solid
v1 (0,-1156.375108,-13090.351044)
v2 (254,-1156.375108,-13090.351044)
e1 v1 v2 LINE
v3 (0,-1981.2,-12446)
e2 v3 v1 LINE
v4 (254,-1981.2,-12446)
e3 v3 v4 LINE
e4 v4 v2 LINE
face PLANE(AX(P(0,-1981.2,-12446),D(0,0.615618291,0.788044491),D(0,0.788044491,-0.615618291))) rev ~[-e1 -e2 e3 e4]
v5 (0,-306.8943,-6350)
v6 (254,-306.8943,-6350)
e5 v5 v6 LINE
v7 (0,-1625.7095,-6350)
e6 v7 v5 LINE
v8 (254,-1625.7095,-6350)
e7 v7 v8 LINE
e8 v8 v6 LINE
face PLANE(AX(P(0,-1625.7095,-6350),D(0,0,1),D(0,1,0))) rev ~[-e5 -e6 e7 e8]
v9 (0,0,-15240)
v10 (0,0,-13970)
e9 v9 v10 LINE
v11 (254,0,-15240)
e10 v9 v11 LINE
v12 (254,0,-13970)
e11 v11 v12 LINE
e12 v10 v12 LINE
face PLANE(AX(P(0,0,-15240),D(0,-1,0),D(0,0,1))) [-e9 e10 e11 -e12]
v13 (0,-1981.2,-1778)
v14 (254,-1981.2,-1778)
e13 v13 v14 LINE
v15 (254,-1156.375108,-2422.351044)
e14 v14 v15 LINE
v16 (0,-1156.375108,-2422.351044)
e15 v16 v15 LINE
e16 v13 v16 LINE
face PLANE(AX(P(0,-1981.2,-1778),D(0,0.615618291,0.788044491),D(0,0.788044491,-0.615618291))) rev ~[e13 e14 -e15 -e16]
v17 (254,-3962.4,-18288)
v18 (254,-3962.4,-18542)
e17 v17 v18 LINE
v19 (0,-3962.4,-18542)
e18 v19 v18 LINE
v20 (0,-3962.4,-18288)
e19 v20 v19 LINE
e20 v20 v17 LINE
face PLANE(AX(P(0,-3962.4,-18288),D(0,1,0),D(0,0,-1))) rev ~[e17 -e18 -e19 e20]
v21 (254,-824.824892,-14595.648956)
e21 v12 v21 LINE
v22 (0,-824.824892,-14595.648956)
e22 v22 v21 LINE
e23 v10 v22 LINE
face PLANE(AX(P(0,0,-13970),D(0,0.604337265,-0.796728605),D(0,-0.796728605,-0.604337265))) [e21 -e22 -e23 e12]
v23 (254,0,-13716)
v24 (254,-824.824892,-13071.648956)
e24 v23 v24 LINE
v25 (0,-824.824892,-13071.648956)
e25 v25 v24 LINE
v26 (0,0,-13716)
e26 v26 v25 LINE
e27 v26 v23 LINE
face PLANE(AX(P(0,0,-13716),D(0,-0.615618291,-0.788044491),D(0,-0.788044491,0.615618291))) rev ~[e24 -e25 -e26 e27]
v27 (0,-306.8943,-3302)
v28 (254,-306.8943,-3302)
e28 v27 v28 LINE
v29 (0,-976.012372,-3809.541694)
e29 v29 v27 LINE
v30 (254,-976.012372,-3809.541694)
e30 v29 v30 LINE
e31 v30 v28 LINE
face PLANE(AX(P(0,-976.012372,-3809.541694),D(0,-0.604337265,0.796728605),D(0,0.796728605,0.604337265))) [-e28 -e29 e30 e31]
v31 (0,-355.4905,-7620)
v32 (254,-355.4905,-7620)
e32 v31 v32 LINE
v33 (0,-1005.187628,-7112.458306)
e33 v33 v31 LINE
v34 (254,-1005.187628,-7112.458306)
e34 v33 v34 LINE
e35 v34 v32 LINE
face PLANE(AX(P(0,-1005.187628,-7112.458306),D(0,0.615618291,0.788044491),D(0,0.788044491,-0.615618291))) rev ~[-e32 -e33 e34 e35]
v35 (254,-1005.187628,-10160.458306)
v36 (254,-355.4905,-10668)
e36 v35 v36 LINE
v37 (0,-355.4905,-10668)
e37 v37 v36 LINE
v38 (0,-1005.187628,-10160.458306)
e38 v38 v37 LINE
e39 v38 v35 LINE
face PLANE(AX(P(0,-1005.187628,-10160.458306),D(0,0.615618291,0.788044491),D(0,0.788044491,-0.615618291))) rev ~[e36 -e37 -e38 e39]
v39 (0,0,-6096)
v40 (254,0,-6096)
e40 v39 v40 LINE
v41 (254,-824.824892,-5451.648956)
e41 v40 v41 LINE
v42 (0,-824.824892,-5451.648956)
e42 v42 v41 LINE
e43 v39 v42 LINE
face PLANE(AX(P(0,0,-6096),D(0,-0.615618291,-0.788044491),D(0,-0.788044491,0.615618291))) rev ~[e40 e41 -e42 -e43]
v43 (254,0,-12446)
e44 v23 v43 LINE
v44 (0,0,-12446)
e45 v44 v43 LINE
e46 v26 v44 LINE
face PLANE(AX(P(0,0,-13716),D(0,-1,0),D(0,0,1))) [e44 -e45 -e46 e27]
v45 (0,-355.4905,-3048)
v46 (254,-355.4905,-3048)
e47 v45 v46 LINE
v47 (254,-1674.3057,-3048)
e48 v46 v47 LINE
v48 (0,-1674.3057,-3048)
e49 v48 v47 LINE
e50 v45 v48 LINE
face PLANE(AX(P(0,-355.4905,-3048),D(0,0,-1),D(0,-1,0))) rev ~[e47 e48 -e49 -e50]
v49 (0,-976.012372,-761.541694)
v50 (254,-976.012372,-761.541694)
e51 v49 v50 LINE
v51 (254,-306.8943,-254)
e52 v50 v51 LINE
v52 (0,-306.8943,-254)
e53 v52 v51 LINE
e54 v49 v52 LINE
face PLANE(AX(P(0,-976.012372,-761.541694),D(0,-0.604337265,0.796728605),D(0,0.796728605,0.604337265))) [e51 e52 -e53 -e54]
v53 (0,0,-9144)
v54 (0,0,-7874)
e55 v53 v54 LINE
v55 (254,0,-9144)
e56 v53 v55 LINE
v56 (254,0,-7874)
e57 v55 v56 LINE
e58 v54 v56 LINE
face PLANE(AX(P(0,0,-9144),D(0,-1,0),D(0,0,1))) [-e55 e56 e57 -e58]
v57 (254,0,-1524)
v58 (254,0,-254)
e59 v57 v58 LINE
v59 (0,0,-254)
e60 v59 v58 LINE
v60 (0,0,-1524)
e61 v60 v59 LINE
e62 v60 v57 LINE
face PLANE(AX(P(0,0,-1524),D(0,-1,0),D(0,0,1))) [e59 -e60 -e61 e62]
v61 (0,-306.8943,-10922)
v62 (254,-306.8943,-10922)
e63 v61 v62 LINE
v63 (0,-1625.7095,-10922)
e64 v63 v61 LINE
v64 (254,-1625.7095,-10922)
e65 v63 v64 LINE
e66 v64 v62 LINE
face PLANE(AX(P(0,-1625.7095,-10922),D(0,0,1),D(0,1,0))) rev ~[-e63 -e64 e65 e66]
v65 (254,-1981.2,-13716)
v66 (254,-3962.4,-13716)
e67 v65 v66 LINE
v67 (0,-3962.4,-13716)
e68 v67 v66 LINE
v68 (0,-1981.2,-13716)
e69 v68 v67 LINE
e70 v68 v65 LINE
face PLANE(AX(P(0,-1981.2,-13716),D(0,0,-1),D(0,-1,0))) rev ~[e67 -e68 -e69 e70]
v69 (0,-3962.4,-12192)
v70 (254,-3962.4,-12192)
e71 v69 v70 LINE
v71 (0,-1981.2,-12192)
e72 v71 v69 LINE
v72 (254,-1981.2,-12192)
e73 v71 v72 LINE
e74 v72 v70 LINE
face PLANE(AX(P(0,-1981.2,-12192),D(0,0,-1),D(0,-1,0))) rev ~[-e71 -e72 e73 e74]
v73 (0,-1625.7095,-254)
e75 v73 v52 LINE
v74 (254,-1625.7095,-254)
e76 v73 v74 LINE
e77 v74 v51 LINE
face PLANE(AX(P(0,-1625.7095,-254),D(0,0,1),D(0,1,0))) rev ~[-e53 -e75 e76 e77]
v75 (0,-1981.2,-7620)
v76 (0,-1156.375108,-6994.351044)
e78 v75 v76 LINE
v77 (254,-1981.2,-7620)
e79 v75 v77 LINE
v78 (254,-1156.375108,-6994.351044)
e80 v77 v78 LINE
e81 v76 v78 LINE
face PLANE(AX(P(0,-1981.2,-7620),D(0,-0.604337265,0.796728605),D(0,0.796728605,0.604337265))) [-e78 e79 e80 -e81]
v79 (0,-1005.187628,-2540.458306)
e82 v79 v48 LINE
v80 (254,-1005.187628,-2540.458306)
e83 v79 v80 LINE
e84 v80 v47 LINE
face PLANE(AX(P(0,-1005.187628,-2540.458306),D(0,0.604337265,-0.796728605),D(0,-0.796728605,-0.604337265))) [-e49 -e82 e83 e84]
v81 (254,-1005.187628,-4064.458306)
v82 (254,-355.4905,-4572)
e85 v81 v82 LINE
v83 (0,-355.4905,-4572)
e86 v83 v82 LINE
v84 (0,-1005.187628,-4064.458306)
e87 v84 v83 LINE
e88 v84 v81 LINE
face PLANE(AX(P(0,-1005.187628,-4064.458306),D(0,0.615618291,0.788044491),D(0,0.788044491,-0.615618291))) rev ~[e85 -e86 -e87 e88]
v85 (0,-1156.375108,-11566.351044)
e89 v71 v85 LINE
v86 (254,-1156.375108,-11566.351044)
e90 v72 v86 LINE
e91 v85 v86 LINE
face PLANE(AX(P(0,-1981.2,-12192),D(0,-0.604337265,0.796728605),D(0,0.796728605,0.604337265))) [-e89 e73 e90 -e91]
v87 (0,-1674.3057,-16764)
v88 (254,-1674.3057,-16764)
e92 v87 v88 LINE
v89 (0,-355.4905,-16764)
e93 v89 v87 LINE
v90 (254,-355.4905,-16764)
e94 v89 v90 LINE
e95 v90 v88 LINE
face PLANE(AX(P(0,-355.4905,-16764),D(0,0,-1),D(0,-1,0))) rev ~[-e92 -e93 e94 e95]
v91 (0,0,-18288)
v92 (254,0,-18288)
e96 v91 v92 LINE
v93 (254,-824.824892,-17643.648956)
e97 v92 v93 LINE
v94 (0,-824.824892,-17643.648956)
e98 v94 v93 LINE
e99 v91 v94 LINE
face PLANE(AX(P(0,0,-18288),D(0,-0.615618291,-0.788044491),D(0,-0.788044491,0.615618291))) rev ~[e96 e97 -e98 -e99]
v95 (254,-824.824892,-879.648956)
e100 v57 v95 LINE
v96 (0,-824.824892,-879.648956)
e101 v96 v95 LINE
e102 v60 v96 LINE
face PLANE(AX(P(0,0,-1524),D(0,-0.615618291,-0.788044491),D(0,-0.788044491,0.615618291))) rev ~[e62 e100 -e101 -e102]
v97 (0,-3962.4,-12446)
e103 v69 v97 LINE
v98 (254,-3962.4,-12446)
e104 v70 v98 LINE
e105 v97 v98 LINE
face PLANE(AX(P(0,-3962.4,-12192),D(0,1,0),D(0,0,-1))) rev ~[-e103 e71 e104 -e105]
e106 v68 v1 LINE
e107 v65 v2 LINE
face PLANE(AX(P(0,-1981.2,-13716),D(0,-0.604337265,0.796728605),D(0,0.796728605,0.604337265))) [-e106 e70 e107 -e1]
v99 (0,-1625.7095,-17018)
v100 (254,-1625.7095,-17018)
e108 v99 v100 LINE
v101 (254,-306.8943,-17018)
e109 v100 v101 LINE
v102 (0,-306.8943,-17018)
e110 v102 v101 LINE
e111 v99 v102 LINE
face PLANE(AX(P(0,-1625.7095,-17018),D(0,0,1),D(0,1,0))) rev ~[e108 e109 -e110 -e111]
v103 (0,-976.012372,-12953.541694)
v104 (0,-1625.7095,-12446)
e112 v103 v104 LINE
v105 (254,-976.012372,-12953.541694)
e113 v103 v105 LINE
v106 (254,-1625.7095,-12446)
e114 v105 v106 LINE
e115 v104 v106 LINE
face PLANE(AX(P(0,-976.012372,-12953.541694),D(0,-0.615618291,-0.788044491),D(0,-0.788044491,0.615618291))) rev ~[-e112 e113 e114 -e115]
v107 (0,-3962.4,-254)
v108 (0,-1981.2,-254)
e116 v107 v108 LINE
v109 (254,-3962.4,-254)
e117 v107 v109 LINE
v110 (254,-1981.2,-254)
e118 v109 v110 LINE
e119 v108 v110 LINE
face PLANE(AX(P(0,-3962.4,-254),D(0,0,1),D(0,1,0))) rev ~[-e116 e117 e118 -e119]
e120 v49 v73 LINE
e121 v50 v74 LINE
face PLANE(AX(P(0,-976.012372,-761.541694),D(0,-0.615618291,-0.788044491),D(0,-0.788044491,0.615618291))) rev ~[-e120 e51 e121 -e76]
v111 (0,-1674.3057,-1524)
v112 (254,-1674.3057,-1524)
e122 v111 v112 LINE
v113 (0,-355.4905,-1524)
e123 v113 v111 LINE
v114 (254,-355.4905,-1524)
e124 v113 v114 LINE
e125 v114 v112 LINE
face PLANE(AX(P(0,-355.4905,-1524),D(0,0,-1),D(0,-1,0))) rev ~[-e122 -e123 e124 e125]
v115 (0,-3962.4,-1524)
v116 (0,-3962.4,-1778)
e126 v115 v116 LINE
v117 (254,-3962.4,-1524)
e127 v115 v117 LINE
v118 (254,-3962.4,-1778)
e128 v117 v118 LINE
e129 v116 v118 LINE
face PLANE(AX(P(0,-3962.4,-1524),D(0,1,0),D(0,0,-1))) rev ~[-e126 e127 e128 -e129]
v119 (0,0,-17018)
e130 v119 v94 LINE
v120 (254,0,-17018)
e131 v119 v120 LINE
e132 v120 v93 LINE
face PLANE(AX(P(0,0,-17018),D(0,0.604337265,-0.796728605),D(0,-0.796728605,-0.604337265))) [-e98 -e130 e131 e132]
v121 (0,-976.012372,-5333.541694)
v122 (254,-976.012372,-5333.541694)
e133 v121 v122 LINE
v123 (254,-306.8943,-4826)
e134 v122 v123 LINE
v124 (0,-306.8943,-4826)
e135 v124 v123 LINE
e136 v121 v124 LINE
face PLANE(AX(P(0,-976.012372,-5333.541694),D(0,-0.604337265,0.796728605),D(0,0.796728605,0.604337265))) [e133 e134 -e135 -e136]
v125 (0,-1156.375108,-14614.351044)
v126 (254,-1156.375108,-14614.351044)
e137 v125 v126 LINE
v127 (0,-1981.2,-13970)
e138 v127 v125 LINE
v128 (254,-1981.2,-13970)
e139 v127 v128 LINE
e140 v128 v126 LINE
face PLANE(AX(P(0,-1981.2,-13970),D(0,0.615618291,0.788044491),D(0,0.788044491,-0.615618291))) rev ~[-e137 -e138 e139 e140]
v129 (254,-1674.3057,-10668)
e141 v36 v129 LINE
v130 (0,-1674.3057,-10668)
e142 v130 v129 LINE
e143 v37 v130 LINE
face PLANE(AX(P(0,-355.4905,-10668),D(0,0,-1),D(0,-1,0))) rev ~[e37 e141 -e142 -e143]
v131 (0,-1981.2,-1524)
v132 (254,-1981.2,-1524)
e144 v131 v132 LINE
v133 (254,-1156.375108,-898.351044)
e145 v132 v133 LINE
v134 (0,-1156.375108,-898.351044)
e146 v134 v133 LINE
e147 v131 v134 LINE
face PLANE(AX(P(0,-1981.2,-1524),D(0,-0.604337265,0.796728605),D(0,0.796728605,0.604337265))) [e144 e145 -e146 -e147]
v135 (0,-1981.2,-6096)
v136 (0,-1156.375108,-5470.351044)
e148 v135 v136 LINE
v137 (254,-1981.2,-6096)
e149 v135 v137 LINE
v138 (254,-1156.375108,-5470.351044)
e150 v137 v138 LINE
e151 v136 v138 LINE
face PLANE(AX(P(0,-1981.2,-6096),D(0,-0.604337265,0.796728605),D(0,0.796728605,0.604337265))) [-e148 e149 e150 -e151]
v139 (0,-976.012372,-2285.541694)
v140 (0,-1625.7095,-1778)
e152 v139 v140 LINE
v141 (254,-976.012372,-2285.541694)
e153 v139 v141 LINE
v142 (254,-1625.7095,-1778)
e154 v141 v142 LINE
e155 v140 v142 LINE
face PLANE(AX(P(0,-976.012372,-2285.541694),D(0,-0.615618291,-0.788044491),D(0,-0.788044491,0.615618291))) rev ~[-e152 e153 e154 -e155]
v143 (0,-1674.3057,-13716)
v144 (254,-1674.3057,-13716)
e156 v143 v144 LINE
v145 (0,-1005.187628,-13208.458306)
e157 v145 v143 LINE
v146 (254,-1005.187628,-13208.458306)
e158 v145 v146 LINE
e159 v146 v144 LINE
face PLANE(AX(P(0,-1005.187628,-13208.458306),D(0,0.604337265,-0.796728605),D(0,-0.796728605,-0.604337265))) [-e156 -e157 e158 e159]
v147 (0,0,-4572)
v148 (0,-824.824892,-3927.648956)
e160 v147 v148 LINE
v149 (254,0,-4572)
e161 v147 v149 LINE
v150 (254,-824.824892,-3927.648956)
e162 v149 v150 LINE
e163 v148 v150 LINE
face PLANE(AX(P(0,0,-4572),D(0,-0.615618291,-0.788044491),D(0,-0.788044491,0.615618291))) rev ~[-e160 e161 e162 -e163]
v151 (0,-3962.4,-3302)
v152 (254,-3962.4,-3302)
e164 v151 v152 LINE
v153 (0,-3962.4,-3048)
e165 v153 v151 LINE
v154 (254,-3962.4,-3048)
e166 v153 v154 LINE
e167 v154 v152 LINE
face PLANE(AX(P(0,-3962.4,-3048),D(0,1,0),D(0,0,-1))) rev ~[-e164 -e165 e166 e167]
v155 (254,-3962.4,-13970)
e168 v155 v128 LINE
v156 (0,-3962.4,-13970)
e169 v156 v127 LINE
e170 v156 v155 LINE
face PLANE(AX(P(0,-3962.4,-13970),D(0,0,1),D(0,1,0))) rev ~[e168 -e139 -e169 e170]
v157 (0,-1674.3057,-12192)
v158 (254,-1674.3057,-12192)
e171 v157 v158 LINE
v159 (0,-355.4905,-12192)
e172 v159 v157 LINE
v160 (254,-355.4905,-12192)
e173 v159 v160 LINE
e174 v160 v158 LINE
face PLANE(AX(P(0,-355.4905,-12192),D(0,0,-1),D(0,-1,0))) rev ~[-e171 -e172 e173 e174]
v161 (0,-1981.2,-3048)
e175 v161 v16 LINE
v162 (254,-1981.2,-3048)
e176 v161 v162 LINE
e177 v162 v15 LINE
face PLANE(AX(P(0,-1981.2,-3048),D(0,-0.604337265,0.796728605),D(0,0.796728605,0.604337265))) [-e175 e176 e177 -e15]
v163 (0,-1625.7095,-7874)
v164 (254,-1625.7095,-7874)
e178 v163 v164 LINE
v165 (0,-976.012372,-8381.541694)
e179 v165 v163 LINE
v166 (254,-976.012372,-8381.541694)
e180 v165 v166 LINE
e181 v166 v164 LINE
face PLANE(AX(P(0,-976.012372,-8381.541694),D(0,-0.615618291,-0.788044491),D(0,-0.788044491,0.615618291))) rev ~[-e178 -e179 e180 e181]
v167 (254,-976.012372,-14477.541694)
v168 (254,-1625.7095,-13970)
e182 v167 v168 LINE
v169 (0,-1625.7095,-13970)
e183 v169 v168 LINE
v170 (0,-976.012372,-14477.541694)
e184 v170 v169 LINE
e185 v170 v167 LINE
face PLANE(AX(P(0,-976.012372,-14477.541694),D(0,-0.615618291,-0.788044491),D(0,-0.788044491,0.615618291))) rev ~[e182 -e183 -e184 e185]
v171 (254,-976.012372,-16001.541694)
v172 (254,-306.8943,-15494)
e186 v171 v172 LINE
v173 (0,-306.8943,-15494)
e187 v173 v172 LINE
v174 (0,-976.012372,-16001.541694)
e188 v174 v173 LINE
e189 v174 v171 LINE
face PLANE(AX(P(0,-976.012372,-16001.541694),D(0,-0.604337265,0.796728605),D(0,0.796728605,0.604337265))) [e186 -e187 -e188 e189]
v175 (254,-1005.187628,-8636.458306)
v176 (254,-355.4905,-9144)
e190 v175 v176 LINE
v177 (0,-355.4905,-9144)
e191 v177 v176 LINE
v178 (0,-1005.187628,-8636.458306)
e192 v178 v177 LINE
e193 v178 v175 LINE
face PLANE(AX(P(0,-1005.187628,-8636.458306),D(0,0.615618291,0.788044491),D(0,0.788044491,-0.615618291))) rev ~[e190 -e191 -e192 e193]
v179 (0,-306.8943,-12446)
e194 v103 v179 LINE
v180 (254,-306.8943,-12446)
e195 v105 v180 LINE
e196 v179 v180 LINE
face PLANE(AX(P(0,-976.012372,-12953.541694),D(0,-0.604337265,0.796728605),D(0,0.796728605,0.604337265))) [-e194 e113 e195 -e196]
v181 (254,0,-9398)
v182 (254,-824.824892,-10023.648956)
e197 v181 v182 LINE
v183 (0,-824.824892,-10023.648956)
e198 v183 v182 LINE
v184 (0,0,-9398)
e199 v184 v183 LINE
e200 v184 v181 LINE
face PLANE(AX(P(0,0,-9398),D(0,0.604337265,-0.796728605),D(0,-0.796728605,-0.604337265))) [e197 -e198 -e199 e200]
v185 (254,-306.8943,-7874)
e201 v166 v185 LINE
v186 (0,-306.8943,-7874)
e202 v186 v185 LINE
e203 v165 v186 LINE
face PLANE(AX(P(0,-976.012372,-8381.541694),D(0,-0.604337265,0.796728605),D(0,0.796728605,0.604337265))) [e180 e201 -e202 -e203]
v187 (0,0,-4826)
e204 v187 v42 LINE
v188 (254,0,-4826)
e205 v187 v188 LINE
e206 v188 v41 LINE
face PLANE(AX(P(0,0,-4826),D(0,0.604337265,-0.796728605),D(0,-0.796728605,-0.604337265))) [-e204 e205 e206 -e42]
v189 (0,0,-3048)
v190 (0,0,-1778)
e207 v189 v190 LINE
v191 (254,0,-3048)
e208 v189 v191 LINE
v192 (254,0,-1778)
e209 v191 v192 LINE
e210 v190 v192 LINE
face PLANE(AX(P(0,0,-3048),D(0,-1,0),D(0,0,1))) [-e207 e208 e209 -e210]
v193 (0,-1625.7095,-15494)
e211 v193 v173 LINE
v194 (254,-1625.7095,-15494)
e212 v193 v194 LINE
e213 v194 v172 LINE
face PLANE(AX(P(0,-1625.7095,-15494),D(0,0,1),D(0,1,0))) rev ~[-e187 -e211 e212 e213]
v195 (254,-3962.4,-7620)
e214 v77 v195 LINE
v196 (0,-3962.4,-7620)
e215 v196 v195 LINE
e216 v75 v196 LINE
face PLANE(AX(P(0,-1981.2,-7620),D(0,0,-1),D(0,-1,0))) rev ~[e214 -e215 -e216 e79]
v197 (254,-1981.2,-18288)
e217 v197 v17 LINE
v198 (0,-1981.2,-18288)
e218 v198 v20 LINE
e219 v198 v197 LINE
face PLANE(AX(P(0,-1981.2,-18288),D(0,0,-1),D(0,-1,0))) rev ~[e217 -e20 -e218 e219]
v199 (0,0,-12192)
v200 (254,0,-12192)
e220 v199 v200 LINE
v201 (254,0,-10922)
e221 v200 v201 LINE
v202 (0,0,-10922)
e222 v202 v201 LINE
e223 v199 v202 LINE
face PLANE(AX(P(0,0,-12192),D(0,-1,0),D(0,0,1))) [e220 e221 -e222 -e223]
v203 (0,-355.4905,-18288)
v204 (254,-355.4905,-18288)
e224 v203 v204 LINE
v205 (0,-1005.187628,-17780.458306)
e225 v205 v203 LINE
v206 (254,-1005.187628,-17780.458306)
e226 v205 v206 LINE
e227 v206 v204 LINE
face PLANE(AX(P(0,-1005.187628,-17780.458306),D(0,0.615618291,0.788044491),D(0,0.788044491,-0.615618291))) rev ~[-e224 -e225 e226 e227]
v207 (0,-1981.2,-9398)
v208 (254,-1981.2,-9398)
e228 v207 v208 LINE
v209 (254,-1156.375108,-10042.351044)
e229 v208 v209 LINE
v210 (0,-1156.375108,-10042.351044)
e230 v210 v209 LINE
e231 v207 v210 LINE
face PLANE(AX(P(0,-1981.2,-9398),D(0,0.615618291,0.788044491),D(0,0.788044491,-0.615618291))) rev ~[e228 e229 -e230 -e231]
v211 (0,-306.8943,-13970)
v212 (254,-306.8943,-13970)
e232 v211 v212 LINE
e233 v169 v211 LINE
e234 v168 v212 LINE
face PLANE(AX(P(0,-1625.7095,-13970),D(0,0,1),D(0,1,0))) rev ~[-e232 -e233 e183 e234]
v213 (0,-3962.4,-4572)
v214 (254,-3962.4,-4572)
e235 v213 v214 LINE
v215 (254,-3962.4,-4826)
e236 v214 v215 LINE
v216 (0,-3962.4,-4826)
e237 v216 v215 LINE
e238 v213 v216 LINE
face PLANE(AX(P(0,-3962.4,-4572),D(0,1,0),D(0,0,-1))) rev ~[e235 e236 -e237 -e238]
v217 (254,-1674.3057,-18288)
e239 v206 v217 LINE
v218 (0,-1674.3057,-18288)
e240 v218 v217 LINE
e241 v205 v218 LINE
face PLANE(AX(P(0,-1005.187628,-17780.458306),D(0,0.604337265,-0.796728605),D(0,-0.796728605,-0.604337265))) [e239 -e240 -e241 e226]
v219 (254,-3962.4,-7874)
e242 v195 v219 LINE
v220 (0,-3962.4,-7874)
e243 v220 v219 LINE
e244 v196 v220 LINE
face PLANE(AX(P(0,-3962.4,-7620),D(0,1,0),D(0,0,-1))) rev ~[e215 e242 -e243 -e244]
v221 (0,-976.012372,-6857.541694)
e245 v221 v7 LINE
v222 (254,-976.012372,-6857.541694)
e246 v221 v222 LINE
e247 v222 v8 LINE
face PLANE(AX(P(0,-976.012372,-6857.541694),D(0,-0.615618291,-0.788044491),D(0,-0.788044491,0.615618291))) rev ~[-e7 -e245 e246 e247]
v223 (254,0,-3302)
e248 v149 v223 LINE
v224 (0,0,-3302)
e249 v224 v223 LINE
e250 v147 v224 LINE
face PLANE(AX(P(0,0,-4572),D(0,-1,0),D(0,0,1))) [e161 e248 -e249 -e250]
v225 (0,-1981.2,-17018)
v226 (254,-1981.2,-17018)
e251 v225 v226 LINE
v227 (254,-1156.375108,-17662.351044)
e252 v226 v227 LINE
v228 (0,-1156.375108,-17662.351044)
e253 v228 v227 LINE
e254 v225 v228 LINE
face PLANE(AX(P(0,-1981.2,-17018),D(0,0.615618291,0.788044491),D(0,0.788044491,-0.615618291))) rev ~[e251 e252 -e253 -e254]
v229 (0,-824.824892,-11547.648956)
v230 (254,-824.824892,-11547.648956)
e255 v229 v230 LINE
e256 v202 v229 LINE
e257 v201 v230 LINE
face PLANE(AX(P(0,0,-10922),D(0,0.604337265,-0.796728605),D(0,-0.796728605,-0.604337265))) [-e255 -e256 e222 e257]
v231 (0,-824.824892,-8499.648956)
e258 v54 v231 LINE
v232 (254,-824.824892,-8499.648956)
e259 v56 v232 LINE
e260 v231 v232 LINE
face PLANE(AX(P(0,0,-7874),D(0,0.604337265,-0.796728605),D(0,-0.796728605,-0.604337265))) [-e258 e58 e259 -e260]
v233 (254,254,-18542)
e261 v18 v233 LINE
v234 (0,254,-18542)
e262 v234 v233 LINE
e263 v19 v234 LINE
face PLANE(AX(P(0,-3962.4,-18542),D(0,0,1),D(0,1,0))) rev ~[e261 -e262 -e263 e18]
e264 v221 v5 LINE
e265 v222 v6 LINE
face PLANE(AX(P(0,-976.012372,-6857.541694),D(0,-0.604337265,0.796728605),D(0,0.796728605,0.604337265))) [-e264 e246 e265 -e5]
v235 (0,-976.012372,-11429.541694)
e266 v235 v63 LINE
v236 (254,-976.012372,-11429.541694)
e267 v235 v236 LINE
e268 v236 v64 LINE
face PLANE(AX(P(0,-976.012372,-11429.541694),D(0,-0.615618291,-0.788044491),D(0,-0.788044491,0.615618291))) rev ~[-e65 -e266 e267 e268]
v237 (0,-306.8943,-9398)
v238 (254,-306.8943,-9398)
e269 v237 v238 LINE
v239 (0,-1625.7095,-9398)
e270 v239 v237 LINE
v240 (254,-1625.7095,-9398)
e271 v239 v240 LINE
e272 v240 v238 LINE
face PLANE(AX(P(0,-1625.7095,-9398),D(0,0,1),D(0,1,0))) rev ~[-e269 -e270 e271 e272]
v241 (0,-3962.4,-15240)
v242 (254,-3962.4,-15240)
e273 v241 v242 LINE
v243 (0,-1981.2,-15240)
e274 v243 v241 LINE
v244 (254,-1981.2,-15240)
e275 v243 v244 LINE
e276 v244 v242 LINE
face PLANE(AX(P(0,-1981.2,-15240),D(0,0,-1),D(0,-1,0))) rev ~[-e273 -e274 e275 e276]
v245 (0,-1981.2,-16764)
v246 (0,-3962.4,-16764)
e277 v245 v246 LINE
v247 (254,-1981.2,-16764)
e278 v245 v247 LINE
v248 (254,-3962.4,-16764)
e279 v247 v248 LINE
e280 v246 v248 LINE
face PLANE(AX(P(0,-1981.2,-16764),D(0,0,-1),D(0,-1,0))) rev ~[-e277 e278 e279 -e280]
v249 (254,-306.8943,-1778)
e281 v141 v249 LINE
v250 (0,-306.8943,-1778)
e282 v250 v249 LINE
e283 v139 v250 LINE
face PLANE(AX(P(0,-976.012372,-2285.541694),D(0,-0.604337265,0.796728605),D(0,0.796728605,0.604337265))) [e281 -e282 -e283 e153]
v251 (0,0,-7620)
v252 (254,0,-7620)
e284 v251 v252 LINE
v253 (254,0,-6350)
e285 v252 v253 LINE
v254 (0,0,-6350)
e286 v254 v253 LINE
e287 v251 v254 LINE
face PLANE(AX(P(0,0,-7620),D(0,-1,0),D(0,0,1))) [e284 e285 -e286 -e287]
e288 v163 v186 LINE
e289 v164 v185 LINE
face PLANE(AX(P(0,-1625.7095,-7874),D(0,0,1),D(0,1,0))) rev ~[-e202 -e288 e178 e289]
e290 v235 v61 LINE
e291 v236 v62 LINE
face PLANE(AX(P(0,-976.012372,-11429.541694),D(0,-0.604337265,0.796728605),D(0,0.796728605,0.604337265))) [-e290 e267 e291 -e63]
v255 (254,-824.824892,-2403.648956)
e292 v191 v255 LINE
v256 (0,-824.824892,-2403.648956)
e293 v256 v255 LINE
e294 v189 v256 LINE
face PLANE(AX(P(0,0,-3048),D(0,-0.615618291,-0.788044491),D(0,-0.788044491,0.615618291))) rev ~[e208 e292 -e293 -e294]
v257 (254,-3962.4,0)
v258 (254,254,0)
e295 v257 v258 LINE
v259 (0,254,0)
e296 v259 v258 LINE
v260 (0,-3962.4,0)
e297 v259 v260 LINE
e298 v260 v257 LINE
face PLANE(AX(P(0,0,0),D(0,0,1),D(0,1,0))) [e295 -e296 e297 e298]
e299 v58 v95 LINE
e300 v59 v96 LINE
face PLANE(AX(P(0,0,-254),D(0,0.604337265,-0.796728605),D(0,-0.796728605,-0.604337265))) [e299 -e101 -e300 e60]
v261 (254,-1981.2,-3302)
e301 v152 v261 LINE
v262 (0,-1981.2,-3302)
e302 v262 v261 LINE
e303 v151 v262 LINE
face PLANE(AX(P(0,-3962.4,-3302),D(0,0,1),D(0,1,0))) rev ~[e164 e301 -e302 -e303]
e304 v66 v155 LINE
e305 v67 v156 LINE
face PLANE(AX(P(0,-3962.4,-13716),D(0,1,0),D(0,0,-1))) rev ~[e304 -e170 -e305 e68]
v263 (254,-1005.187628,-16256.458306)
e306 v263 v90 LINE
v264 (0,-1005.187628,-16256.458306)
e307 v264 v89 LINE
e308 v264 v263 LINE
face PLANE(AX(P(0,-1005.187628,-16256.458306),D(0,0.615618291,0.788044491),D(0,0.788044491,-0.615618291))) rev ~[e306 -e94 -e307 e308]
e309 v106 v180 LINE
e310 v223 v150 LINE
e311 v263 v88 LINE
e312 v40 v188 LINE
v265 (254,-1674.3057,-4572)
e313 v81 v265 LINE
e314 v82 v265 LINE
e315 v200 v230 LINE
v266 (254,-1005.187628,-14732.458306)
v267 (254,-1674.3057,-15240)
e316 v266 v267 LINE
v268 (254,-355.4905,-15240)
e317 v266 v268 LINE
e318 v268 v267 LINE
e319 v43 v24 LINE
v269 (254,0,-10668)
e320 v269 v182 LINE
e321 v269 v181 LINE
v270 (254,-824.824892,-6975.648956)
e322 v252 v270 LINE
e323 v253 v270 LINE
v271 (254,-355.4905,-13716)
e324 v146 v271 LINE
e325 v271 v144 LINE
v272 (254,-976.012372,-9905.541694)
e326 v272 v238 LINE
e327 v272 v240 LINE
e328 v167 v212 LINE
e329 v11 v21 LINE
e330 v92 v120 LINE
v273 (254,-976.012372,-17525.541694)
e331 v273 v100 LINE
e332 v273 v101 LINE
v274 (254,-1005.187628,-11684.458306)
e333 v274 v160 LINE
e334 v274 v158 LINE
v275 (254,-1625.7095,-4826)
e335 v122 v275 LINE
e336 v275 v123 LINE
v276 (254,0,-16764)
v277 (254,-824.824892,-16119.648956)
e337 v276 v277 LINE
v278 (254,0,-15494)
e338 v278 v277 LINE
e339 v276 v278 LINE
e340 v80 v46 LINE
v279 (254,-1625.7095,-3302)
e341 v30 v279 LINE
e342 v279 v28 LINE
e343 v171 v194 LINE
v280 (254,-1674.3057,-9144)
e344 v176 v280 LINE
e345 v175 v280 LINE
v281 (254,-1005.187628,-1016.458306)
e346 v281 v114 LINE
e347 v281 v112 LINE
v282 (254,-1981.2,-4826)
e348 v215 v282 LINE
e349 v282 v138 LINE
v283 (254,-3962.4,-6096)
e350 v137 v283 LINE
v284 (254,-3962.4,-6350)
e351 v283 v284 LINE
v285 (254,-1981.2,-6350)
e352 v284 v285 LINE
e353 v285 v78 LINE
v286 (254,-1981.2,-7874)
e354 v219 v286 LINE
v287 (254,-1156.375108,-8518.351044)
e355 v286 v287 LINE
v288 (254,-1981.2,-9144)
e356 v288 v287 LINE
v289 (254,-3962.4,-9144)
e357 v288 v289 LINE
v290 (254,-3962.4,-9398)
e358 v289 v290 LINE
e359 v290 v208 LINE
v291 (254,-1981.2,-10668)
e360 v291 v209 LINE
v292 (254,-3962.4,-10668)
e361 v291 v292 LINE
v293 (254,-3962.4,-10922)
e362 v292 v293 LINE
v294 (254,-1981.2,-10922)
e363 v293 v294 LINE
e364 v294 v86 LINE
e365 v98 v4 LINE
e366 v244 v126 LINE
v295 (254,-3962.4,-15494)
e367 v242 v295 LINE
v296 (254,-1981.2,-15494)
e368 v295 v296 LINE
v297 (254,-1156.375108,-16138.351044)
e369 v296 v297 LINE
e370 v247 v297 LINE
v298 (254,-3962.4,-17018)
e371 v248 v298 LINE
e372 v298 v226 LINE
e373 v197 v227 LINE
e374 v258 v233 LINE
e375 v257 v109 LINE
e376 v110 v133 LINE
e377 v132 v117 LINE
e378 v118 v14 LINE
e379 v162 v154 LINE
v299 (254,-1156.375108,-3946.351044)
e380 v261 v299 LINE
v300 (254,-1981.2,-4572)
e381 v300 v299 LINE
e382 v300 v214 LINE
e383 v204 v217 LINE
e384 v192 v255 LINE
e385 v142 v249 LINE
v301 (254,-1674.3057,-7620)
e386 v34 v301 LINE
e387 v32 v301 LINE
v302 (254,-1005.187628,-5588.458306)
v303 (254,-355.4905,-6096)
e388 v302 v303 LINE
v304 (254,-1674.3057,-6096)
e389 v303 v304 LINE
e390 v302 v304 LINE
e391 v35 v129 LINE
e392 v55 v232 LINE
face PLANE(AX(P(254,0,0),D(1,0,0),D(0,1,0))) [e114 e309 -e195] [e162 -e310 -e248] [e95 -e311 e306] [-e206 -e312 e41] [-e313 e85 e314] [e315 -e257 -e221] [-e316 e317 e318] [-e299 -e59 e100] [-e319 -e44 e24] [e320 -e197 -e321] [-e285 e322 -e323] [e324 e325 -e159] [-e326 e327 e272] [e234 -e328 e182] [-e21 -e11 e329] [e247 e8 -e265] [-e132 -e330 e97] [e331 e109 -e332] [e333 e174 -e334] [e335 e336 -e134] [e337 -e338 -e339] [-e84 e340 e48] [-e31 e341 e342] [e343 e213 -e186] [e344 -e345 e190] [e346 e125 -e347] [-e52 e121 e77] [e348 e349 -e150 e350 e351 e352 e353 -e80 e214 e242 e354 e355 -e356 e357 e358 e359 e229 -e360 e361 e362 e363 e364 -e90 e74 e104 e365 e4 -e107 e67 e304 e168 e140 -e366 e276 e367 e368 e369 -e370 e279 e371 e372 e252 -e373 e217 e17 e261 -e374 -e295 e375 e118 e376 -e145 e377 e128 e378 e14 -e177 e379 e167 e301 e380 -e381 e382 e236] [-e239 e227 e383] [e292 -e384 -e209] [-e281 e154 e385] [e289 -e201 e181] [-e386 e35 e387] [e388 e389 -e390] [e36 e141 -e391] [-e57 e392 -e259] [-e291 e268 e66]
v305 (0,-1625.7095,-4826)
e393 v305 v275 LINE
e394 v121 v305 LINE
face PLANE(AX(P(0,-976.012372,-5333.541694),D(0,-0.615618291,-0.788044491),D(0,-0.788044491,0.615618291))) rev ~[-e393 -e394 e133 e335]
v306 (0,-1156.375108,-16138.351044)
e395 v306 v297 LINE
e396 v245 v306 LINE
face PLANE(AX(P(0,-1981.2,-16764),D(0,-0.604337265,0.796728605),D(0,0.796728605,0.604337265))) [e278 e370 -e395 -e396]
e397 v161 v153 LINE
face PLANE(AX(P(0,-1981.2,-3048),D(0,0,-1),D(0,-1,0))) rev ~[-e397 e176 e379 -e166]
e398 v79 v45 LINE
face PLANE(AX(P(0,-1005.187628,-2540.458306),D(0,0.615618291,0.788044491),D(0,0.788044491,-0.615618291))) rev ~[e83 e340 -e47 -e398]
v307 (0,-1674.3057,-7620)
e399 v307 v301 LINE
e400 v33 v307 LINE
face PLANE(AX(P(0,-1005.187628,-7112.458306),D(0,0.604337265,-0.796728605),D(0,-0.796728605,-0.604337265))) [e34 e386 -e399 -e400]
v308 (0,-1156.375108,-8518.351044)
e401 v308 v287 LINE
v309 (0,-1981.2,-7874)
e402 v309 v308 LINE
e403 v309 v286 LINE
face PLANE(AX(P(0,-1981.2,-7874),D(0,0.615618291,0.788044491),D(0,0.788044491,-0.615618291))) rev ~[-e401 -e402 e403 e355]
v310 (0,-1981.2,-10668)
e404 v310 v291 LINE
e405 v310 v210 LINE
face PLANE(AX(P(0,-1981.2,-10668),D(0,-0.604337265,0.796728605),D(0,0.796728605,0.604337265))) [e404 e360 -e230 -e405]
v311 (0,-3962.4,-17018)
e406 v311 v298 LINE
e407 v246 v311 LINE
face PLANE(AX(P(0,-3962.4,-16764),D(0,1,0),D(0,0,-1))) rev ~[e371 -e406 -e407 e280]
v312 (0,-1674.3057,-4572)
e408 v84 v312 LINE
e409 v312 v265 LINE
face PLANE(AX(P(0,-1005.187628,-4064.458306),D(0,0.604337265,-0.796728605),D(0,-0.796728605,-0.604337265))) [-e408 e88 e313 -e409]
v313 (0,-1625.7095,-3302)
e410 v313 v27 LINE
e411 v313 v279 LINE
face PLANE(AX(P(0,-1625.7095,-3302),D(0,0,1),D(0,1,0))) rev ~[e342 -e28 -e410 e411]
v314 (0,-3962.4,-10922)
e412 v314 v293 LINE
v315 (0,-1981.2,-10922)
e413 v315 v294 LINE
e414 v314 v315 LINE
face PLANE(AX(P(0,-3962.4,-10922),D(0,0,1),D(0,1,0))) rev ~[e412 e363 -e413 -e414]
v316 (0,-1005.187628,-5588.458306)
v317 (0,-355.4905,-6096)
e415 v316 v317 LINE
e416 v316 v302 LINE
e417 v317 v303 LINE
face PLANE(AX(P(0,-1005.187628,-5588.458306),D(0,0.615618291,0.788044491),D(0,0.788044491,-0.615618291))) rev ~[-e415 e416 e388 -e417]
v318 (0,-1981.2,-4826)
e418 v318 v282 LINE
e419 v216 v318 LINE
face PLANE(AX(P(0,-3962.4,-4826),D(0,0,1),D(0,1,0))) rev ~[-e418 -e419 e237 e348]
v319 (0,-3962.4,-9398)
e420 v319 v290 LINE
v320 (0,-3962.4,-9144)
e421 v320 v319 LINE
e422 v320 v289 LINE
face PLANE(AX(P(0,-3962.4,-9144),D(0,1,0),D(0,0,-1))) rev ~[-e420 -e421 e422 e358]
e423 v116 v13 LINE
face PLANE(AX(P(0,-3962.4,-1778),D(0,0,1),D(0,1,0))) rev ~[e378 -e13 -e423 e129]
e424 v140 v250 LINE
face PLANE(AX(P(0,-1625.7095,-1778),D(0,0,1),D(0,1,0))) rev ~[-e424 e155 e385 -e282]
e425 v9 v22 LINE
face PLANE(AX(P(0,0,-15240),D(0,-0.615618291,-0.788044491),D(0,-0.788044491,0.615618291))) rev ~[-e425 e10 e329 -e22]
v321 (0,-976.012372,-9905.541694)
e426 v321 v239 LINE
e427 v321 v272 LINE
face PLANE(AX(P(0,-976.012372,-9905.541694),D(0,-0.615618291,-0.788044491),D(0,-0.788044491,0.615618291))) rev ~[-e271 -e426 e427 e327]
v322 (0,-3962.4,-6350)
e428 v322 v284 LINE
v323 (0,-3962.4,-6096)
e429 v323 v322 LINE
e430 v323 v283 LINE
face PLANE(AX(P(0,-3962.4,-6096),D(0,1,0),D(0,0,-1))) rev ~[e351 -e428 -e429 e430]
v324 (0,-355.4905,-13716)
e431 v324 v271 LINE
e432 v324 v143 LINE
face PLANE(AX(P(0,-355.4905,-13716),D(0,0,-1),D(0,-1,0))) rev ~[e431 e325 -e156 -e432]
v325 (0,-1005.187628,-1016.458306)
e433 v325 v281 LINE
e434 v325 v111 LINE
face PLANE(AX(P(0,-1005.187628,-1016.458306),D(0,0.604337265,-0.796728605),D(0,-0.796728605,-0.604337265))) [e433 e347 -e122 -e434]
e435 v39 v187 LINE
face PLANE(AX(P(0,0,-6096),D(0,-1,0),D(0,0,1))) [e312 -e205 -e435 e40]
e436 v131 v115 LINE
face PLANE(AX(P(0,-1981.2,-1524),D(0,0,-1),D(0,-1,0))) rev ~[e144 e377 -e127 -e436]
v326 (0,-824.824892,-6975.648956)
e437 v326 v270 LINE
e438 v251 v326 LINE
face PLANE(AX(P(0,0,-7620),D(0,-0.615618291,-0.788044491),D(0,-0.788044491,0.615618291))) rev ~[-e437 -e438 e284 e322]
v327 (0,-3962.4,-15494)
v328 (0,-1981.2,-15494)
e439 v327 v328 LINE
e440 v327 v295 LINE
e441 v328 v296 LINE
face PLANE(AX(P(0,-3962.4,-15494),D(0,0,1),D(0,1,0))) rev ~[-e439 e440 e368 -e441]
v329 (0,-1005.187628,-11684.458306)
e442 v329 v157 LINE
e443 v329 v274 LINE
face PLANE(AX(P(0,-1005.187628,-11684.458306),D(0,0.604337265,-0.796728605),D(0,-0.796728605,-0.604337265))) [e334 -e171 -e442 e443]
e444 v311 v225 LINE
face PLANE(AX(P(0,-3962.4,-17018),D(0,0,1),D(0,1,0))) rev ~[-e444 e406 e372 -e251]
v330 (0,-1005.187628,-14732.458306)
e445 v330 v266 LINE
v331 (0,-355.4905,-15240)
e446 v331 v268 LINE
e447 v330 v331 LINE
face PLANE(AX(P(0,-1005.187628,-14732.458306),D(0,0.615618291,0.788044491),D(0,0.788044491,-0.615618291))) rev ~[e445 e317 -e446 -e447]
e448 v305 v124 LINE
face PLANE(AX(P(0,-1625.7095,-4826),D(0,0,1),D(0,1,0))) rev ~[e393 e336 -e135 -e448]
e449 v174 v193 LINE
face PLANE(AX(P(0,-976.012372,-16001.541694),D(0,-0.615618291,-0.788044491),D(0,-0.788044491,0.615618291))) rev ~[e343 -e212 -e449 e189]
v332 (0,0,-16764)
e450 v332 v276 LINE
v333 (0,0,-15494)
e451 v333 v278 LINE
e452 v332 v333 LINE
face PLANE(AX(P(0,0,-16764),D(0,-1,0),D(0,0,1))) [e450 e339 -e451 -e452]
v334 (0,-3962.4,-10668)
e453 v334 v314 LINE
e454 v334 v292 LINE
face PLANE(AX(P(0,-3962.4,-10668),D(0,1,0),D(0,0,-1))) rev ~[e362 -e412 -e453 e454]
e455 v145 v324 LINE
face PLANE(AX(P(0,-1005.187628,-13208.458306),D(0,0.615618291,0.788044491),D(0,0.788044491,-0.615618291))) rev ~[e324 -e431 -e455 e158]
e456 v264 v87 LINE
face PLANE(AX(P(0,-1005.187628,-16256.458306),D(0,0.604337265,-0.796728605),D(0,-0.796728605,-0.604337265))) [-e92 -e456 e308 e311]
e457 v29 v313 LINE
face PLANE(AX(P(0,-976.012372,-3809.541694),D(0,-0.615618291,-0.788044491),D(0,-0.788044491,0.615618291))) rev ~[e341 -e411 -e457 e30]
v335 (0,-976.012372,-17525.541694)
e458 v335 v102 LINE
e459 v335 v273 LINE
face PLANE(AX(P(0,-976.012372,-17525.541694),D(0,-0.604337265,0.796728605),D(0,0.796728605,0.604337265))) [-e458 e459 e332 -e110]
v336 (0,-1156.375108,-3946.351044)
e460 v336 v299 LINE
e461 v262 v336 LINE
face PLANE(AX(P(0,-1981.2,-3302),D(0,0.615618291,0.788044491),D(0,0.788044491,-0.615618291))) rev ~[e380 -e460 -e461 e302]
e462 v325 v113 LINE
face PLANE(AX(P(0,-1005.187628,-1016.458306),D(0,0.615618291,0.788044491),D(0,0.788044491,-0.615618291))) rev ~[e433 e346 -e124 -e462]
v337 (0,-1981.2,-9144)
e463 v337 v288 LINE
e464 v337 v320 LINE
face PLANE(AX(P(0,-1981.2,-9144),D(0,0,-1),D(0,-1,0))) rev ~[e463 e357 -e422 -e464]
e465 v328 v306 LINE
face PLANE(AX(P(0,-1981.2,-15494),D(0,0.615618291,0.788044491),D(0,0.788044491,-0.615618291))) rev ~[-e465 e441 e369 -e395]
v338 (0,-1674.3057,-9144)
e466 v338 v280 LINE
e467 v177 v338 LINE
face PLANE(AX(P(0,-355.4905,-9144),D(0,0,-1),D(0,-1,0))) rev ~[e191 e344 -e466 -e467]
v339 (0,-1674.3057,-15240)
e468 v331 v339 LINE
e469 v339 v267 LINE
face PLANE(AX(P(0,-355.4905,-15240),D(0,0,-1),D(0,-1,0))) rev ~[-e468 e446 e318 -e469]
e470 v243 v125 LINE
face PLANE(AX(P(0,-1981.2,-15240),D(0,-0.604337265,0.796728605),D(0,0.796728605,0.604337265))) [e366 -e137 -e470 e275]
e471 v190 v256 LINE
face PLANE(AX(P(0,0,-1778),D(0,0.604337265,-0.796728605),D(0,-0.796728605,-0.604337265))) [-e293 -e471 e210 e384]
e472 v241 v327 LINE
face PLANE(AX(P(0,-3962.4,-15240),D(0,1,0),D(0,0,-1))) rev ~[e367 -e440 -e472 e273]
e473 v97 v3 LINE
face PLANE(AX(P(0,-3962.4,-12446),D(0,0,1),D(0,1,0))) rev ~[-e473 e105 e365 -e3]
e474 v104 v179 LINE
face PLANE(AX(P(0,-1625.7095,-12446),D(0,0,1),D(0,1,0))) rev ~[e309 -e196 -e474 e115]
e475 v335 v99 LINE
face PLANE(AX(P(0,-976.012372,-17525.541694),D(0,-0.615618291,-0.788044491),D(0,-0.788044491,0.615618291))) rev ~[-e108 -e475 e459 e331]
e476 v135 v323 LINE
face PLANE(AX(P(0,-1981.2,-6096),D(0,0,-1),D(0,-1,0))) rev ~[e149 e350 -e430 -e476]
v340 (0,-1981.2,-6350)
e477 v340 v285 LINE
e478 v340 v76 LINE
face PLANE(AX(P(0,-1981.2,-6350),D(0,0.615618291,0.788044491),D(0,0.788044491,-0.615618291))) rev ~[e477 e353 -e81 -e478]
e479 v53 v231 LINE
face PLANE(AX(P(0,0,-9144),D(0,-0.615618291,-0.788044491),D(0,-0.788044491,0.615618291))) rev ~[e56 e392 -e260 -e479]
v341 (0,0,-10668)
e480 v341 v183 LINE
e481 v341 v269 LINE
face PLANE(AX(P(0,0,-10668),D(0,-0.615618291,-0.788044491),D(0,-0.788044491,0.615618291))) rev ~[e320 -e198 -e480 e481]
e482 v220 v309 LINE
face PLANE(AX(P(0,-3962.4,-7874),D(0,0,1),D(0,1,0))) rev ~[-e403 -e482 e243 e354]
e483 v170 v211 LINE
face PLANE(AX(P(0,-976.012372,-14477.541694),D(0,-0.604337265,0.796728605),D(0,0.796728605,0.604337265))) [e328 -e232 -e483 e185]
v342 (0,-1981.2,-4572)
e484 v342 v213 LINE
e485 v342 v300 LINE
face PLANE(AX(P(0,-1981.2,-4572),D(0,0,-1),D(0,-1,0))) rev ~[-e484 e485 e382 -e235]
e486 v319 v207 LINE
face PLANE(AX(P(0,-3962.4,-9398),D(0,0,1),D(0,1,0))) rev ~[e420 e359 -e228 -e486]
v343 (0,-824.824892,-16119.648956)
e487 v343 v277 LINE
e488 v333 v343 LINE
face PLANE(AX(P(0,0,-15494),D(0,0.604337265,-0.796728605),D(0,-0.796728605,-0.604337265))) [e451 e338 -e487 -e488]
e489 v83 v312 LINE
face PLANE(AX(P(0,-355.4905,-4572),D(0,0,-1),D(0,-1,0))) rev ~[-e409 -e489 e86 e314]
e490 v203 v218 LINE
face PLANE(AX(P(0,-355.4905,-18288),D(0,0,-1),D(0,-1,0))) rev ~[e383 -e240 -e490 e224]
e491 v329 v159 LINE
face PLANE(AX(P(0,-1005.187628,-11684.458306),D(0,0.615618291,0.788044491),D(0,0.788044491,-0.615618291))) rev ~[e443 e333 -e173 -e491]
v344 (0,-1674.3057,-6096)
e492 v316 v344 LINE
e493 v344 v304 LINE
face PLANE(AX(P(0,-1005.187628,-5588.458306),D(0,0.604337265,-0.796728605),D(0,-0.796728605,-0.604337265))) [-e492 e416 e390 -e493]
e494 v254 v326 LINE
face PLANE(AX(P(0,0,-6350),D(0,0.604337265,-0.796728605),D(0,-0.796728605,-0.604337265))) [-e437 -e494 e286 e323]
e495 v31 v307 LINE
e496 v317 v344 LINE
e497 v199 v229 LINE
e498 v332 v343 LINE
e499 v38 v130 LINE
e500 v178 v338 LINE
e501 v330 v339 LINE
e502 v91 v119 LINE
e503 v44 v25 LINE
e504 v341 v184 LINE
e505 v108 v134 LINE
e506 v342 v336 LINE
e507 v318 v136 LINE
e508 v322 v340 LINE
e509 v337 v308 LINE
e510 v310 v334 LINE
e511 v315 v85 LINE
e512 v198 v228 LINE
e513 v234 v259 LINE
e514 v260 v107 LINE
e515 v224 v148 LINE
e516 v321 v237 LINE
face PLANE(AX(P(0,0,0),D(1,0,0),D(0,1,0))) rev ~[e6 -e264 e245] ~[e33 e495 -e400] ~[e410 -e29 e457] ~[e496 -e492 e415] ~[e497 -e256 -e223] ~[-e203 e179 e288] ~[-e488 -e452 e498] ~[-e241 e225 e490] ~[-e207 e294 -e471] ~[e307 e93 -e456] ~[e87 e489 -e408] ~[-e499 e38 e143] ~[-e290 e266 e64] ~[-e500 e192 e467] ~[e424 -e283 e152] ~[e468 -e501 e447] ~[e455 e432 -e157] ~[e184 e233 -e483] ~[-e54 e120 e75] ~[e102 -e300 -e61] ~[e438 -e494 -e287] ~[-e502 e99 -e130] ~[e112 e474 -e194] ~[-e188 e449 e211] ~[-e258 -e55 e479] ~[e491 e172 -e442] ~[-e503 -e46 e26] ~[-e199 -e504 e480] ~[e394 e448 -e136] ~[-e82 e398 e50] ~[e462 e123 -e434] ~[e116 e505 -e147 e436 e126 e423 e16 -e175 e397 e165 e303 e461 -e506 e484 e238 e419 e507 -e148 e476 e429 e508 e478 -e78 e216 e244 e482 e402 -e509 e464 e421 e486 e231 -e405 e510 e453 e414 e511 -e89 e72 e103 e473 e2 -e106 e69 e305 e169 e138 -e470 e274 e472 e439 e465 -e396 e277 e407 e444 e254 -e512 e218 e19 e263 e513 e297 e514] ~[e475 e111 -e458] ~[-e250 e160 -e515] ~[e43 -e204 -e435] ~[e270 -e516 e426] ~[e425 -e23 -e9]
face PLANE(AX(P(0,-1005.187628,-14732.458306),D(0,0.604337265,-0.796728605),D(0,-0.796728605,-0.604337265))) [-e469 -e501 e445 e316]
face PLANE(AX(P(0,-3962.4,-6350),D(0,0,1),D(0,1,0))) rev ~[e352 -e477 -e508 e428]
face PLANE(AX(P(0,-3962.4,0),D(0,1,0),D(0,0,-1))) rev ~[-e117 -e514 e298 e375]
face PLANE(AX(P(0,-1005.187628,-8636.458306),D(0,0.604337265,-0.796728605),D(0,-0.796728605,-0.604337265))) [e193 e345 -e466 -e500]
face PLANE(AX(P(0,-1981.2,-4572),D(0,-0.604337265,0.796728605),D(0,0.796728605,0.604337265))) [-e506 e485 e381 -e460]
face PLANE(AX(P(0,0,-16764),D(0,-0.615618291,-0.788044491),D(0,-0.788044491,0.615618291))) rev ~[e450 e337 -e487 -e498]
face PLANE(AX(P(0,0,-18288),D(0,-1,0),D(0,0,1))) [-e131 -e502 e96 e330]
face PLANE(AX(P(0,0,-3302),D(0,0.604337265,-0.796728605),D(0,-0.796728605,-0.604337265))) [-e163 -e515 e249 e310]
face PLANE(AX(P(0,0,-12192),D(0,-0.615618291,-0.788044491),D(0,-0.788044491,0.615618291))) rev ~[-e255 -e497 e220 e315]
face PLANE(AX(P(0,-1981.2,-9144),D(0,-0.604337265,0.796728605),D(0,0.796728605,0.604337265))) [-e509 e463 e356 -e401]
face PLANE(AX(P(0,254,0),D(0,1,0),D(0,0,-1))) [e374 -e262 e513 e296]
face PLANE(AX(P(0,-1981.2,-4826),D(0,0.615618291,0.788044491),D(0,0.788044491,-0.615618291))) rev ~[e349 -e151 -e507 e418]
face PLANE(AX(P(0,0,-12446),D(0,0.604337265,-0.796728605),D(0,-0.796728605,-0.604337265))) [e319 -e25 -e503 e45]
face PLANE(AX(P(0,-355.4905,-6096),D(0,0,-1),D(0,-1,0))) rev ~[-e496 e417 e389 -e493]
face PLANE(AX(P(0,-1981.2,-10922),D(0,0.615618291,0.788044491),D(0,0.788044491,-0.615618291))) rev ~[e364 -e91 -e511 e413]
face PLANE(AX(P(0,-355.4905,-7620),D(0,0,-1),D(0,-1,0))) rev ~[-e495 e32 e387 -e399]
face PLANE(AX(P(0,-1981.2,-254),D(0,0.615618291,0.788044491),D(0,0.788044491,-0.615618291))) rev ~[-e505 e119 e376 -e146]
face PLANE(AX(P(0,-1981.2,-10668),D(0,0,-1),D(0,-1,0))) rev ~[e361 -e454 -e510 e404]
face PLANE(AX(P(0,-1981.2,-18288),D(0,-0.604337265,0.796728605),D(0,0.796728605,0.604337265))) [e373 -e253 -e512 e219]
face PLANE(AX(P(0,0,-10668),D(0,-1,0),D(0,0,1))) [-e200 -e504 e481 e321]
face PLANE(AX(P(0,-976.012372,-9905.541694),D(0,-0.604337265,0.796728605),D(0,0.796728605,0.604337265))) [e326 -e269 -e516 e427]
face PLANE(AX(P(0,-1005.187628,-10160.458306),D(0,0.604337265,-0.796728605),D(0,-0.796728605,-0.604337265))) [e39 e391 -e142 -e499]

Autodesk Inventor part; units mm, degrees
ref_plane "YZ Plane" through (0, 0, 0) normal (1, 0, 0) x (0, 1, 0)
ref_plane "XZ Plane" through (0, 0, 0) normal (0, 1, 0) x (-1, 0, 0)
ref_plane "XY Plane" through (0, 0, 0) normal (0, 0, 1) x (1, 0, 0)
sketch "Sketch1" plane through (0, 0, 0) normal (1, 0, 0) x (0, 1, 0)
  line L0 (0, 0) -> (254, 0)
  line L1 (254, 0) -> (254, -18288)
  line L2 (254, -18288) -> (0, -18288)
  line L3 (0, -18288) -> (0, 0)
  line L4 (0, 0) -> (-3962.4, 0)
  line L5 (-3962.4, 0) -> (-3962.4, -254)
  line L6 (-3962.4, -254) -> (0, -254)
  line L7 (0, -254) -> (0, 0)
  line L8 (-3962.4, -1778) -> (0, -1778)
  line L9 (-3962.4, -1524) -> (-3962.4, -1778)
  line L10 (0, -1524) -> (-3962.4, -1524)
  line L11 (-3962.4, -3302) -> (0, -3302)
  line L12 (-3962.4, -3048) -> (-3962.4, -3302)
  line L13 (0, -3048) -> (-3962.4, -3048)
  line L14 (-3962.4, -4826) -> (0, -4826)
  line L15 (-3962.4, -4572) -> (-3962.4, -4826)
  line L16 (0, -4572) -> (-3962.4, -4572)
  line L17 (-3962.4, -6350) -> (0, -6350)
  line L18 (-3962.4, -6096) -> (-3962.4, -6350)
  line L19 (0, -6096) -> (-3962.4, -6096)
  line L20 (-3962.4, -7874) -> (0, -7874)
  line L21 (-3962.4, -7620) -> (-3962.4, -7874)
  line L22 (0, -7620) -> (-3962.4, -7620)
  line L23 (-3962.4, -9398) -> (0, -9398)
  line L24 (-3962.4, -9144) -> (-3962.4, -9398)
  line L25 (0, -9144) -> (-3962.4, -9144)
  line L26 (-3962.4, -10922) -> (0, -10922)
  line L27 (-3962.4, -10668) -> (-3962.4, -10922)
  line L28 (0, -10668) -> (-3962.4, -10668)
  line L29 (-3962.4, -12446) -> (0, -12446)
  line L30 (-3962.4, -12192) -> (-3962.4, -12446)
  line L31 (0, -12192) -> (-3962.4, -12192)
  line L32 (-3962.4, -13970) -> (0, -13970)
  line L33 (-3962.4, -13716) -> (-3962.4, -13970)
  line L34 (0, -13716) -> (-3962.4, -13716)
  line L35 (-3962.4, -15494) -> (0, -15494)
  line L36 (-3962.4, -15240) -> (-3962.4, -15494)
  line L37 (0, -15240) -> (-3962.4, -15240)
  line L38 (-3962.4, -17018) -> (0, -17018)
  line L39 (-3962.4, -16764) -> (-3962.4, -17018)
  line L40 (0, -16764) -> (-3962.4, -16764)
  line L41 (0, -254) -> (-1674.3057, -1524)
  line L42 (-1981.2, -1524) -> (-306.8943, -254)
  line L43 (0, -1524) -> (-1625.7095, -254)
  line L44 (-1981.2, -254) -> (-355.4905, -1524)
  line L45 (-1981.2, -1778) -> (-355.4905, -3048)
  line L46 (0, -3048) -> (-1625.7095, -1778)
  line L47 (0, -1778) -> (-1674.3057, -3048)
  line L48 (-1981.2, -3048) -> (-306.8943, -1778)
  line L49 (-1981.2, -3302) -> (-355.4905, -4572)
  line L50 (0, -4572) -> (-1625.7095, -3302)
  line L51 (0, -3302) -> (-1674.3057, -4572)
  line L52 (-1981.2, -4572) -> (-306.8943, -3302)
  line L53 (-1981.2, -4826) -> (-355.4905, -6096)
  line L54 (0, -6096) -> (-1625.7095, -4826)
  line L55 (0, -4826) -> (-1674.3057, -6096)
  line L56 (-1981.2, -6096) -> (-306.8943, -4826)
  line L57 (-1981.2, -6350) -> (-355.4905, -7620)
  line L58 (0, -7620) -> (-1625.7095, -6350)
  line L59 (0, -6350) -> (-1674.3057, -7620)
  line L60 (-1981.2, -7620) -> (-306.8943, -6350)
  line L61 (-1981.2, -7874) -> (-355.4905, -9144)
  line L62 (0, -9144) -> (-1625.7095, -7874)
  line L63 (0, -7874) -> (-1674.3057, -9144)
  line L64 (-1981.2, -9144) -> (-306.8943, -7874)
  line L65 (-1981.2, -9398) -> (-355.4905, -10668)
  line L66 (0, -10668) -> (-1625.7095, -9398)
  line L67 (0, -9398) -> (-1674.3057, -10668)
  line L68 (-1981.2, -10668) -> (-306.8943, -9398)
  line L69 (-1981.2, -10922) -> (-355.4905, -12192)
  line L70 (0, -12192) -> (-1625.7095, -10922)
  line L71 (0, -10922) -> (-1674.3057, -12192)
  line L72 (-1981.2, -12192) -> (-306.8943, -10922)
  line L73 (-1981.2, -12446) -> (-355.4905, -13716)
  line L74 (0, -13716) -> (-1625.7095, -12446)
  line L75 (0, -12446) -> (-1674.3057, -13716)
  line L76 (-1981.2, -13716) -> (-306.8943, -12446)
  line L77 (-1981.2, -13970) -> (-355.4905, -15240)
  line L78 (0, -15240) -> (-1625.7095, -13970)
  line L79 (0, -13970) -> (-1674.3057, -15240)
  line L80 (-1981.2, -15240) -> (-306.8943, -13970)
  line L81 (-1981.2, -15494) -> (-355.4905, -16764)
  line L82 (0, -16764) -> (-1625.7095, -15494)
  line L83 (0, -15494) -> (-1674.3057, -16764)
  line L84 (-1981.2, -16764) -> (-306.8943, -15494)
  line L85 (-1981.2, -17018) -> (-355.4905, -18288)
  line L86 (0, -18288) -> (-1625.7095, -17018)
  line L87 (0, -17018) -> (-1674.3057, -18288)
  line L88 (-1981.2, -18288) -> (-306.8943, -17018)
  line L89 (254, -18288) -> (-3962.4, -18288)
  line L90 (-3962.4, -18288) -> (-3962.4, -18542)
  line L91 (-3962.4, -18542) -> (254, -18542)
  line L92 (254, -18542) -> (254, -18288)
  point P0 (-824.8249, -879.6489)
  point P1 (0, -254)
  point P2 (-1005.1876, -1016.4583)
  point P3 (-1156.3751, -898.3511)
  point P4 (-1156.3751, -2422.3511)
  point P5 (-1156.3751, -3946.3511)
  point P6 (-1156.3751, -5470.3511)
  point P7 (-1156.3751, -6994.3511)
  point P8 (-1156.3751, -8518.3511)
  point P9 (-1156.3751, -10042.3511)
  point P10 (-1156.3751, -11566.3511)
  point P11 (-1156.3751, -13090.3511)
  point P12 (-1156.3751, -14614.3511)
  point P13 (-1156.3751, -16138.3511)
  point P14 (-1156.3751, -17662.3511)
  point P15 (-976.0124, -2285.5417)
  point P16 (-1005.1876, -2540.4583)
  point P17 (-824.8249, -2403.6489)
  point P18 (0, -1778)
  point P19 (-1005.1876, -17780.4583)
  point P20 (-976.0124, -16001.5417)
  point P21 (-824.8249, -17643.6489)
  point P22 (0, -17018)
  point P23 (-976.0124, -17525.5417)
  point P24 (-976.0124, -14477.5417)
  point P25 (-1005.1876, -16256.4583)
  point P26 (-824.8249, -16119.6489)
  point P27 (0, -15494)
  point P28 (-976.0124, -12953.5417)
  point P29 (-1005.1876, -14732.4583)
  point P30 (-824.8249, -14595.6489)
  point P31 (0, -13970)
  point P32 (-976.0124, -11429.5417)
  point P33 (-1005.1876, -13208.4583)
  point P34 (-824.8249, -13071.6489)
  point P35 (0, -12446)
  point P36 (-976.0124, -9905.5417)
  point P37 (-1005.1876, -11684.4583)
  point P38 (-824.8249, -11547.6489)
  point P39 (0, -10922)
  point P40 (-976.0124, -8381.5417)
  point P41 (-1005.1876, -10160.4583)
  point P42 (-824.8249, -10023.6489)
  point P43 (0, -9398)
  point P44 (-976.0124, -6857.5417)
  point P45 (-1005.1876, -8636.4583)
  point P46 (-824.8249, -8499.6489)
  point P47 (0, -7874)
  point P48 (-976.0124, -5333.5417)
  point P49 (-1005.1876, -7112.4583)
  point P50 (-824.8249, -6975.6489)
  point P51 (0, -6350)
  point P52 (-1005.1876, -5588.4583)
  point P53 (-824.8249, -5451.6489)
  point P54 (0, -4826)
  point P55 (-976.0124, -3809.5417)
  point P56 (-1005.1876, -4064.4583)
  point P57 (-824.8249, -3927.6489)
  point P58 (0, -3302)
  point P59 (-976.0124, -761.5417)
  dimension "d0" = 18288
  dimension "d1" = 254
  dimension "d2" = 3962.4
  dimension "d3" = 254
  dimension "d6" = 1524
  dimension "d13" = 1524
  dimension "d18" = 254
extrude "Extrusion1" add sketch "Sketch1" along normal blind 254 contours L0 L1 L2 L3 | L3 L6 L5 L4 | L41 L43 L42 L6 | L92 L91 L90 L89 L2 | L3 L8 L9 L10 | L10 L44 L41 L43 | L41 L44 L42 L43 | L89 L85 L87 L86 | L47 L46 L48 L8 | L43 L42 L44 L6 | L41 L10 L42 L44 | L38 L39 L40 L3 | L87 L86 L88 L38 | L87 L85 L88 L86 | L3 L11 L12 L13 | L13 L45 L47 L46 | L47 L45 L48 L46 | L40 L81 L83 L82 | L88 L85 L38 L86 | L87 L89 L88 L85 | L51 L50 L52 L11 | L46 L48 L45 L8 | L47 L13 L48 L45 | L35 L36 L37 L3 | L83 L82 L84 L35 | L83 L81 L84 L82 | L3 L14 L15 L16 | L16 L49 L51 L50 | L51 L49 L52 L50 | L37 L77 L79 L78 | L40 L84 L81 L83 | L84 L81 L35 L82 | L55 L54 L56 L14 | L50 L52 L49 L11 | L51 L16 L52 L49 | L32 L33 L34 L3 | L79 L78 L80 L32 | L79 L77 L80 L78 | L3 L17 L18 L19 | L19 L53 L55 L54 | L55 L53 L56 L54 | L34 L73 L75 L74 | L37 L80 L77 L79 | L80 L77 L32 L78 | L59 L58 L60 L17 | L54 L56 L53 L14 | L55 L19 L56 L53 | L29 L30 L31 L3 | L75 L74 L76 L29 | L75 L73 L76 L74 | L3 L20 L21 L22 | L22 L57 L59 L58 | L59 L57 L60 L58 | L31 L69 L71 L70 | L34 L76 L73 L75 | L76 L73 L29 L74 | L63 L62 L64 L20 | L58 L60 L57 L17 | L59 L22 L60 L57 | L26 L27 L28 L3 | L71 L70 L72 L26 | L71 L69 L72 L70 | L3 L23 L24 L25 | L25 L61 L63 L62 | L63 L61 L64 L62 | L28 L65 L67 L66 | L31 L72 L69 L71 | L72 L69 L26 L70 | L67 L66 L68 L23 | L62 L64 L61 L20 | L63 L25 L64 L61 | L67 L65 L68 L66 | L28 L68 L65 L67 | L68 L65 L23 L66
sketch "Sketch2" plane through (0, -3962.4, 0) normal (0, 0, 1) x (1, 0, 0)
  point P0 (0, 3962.4)
properties part number "platform part"
